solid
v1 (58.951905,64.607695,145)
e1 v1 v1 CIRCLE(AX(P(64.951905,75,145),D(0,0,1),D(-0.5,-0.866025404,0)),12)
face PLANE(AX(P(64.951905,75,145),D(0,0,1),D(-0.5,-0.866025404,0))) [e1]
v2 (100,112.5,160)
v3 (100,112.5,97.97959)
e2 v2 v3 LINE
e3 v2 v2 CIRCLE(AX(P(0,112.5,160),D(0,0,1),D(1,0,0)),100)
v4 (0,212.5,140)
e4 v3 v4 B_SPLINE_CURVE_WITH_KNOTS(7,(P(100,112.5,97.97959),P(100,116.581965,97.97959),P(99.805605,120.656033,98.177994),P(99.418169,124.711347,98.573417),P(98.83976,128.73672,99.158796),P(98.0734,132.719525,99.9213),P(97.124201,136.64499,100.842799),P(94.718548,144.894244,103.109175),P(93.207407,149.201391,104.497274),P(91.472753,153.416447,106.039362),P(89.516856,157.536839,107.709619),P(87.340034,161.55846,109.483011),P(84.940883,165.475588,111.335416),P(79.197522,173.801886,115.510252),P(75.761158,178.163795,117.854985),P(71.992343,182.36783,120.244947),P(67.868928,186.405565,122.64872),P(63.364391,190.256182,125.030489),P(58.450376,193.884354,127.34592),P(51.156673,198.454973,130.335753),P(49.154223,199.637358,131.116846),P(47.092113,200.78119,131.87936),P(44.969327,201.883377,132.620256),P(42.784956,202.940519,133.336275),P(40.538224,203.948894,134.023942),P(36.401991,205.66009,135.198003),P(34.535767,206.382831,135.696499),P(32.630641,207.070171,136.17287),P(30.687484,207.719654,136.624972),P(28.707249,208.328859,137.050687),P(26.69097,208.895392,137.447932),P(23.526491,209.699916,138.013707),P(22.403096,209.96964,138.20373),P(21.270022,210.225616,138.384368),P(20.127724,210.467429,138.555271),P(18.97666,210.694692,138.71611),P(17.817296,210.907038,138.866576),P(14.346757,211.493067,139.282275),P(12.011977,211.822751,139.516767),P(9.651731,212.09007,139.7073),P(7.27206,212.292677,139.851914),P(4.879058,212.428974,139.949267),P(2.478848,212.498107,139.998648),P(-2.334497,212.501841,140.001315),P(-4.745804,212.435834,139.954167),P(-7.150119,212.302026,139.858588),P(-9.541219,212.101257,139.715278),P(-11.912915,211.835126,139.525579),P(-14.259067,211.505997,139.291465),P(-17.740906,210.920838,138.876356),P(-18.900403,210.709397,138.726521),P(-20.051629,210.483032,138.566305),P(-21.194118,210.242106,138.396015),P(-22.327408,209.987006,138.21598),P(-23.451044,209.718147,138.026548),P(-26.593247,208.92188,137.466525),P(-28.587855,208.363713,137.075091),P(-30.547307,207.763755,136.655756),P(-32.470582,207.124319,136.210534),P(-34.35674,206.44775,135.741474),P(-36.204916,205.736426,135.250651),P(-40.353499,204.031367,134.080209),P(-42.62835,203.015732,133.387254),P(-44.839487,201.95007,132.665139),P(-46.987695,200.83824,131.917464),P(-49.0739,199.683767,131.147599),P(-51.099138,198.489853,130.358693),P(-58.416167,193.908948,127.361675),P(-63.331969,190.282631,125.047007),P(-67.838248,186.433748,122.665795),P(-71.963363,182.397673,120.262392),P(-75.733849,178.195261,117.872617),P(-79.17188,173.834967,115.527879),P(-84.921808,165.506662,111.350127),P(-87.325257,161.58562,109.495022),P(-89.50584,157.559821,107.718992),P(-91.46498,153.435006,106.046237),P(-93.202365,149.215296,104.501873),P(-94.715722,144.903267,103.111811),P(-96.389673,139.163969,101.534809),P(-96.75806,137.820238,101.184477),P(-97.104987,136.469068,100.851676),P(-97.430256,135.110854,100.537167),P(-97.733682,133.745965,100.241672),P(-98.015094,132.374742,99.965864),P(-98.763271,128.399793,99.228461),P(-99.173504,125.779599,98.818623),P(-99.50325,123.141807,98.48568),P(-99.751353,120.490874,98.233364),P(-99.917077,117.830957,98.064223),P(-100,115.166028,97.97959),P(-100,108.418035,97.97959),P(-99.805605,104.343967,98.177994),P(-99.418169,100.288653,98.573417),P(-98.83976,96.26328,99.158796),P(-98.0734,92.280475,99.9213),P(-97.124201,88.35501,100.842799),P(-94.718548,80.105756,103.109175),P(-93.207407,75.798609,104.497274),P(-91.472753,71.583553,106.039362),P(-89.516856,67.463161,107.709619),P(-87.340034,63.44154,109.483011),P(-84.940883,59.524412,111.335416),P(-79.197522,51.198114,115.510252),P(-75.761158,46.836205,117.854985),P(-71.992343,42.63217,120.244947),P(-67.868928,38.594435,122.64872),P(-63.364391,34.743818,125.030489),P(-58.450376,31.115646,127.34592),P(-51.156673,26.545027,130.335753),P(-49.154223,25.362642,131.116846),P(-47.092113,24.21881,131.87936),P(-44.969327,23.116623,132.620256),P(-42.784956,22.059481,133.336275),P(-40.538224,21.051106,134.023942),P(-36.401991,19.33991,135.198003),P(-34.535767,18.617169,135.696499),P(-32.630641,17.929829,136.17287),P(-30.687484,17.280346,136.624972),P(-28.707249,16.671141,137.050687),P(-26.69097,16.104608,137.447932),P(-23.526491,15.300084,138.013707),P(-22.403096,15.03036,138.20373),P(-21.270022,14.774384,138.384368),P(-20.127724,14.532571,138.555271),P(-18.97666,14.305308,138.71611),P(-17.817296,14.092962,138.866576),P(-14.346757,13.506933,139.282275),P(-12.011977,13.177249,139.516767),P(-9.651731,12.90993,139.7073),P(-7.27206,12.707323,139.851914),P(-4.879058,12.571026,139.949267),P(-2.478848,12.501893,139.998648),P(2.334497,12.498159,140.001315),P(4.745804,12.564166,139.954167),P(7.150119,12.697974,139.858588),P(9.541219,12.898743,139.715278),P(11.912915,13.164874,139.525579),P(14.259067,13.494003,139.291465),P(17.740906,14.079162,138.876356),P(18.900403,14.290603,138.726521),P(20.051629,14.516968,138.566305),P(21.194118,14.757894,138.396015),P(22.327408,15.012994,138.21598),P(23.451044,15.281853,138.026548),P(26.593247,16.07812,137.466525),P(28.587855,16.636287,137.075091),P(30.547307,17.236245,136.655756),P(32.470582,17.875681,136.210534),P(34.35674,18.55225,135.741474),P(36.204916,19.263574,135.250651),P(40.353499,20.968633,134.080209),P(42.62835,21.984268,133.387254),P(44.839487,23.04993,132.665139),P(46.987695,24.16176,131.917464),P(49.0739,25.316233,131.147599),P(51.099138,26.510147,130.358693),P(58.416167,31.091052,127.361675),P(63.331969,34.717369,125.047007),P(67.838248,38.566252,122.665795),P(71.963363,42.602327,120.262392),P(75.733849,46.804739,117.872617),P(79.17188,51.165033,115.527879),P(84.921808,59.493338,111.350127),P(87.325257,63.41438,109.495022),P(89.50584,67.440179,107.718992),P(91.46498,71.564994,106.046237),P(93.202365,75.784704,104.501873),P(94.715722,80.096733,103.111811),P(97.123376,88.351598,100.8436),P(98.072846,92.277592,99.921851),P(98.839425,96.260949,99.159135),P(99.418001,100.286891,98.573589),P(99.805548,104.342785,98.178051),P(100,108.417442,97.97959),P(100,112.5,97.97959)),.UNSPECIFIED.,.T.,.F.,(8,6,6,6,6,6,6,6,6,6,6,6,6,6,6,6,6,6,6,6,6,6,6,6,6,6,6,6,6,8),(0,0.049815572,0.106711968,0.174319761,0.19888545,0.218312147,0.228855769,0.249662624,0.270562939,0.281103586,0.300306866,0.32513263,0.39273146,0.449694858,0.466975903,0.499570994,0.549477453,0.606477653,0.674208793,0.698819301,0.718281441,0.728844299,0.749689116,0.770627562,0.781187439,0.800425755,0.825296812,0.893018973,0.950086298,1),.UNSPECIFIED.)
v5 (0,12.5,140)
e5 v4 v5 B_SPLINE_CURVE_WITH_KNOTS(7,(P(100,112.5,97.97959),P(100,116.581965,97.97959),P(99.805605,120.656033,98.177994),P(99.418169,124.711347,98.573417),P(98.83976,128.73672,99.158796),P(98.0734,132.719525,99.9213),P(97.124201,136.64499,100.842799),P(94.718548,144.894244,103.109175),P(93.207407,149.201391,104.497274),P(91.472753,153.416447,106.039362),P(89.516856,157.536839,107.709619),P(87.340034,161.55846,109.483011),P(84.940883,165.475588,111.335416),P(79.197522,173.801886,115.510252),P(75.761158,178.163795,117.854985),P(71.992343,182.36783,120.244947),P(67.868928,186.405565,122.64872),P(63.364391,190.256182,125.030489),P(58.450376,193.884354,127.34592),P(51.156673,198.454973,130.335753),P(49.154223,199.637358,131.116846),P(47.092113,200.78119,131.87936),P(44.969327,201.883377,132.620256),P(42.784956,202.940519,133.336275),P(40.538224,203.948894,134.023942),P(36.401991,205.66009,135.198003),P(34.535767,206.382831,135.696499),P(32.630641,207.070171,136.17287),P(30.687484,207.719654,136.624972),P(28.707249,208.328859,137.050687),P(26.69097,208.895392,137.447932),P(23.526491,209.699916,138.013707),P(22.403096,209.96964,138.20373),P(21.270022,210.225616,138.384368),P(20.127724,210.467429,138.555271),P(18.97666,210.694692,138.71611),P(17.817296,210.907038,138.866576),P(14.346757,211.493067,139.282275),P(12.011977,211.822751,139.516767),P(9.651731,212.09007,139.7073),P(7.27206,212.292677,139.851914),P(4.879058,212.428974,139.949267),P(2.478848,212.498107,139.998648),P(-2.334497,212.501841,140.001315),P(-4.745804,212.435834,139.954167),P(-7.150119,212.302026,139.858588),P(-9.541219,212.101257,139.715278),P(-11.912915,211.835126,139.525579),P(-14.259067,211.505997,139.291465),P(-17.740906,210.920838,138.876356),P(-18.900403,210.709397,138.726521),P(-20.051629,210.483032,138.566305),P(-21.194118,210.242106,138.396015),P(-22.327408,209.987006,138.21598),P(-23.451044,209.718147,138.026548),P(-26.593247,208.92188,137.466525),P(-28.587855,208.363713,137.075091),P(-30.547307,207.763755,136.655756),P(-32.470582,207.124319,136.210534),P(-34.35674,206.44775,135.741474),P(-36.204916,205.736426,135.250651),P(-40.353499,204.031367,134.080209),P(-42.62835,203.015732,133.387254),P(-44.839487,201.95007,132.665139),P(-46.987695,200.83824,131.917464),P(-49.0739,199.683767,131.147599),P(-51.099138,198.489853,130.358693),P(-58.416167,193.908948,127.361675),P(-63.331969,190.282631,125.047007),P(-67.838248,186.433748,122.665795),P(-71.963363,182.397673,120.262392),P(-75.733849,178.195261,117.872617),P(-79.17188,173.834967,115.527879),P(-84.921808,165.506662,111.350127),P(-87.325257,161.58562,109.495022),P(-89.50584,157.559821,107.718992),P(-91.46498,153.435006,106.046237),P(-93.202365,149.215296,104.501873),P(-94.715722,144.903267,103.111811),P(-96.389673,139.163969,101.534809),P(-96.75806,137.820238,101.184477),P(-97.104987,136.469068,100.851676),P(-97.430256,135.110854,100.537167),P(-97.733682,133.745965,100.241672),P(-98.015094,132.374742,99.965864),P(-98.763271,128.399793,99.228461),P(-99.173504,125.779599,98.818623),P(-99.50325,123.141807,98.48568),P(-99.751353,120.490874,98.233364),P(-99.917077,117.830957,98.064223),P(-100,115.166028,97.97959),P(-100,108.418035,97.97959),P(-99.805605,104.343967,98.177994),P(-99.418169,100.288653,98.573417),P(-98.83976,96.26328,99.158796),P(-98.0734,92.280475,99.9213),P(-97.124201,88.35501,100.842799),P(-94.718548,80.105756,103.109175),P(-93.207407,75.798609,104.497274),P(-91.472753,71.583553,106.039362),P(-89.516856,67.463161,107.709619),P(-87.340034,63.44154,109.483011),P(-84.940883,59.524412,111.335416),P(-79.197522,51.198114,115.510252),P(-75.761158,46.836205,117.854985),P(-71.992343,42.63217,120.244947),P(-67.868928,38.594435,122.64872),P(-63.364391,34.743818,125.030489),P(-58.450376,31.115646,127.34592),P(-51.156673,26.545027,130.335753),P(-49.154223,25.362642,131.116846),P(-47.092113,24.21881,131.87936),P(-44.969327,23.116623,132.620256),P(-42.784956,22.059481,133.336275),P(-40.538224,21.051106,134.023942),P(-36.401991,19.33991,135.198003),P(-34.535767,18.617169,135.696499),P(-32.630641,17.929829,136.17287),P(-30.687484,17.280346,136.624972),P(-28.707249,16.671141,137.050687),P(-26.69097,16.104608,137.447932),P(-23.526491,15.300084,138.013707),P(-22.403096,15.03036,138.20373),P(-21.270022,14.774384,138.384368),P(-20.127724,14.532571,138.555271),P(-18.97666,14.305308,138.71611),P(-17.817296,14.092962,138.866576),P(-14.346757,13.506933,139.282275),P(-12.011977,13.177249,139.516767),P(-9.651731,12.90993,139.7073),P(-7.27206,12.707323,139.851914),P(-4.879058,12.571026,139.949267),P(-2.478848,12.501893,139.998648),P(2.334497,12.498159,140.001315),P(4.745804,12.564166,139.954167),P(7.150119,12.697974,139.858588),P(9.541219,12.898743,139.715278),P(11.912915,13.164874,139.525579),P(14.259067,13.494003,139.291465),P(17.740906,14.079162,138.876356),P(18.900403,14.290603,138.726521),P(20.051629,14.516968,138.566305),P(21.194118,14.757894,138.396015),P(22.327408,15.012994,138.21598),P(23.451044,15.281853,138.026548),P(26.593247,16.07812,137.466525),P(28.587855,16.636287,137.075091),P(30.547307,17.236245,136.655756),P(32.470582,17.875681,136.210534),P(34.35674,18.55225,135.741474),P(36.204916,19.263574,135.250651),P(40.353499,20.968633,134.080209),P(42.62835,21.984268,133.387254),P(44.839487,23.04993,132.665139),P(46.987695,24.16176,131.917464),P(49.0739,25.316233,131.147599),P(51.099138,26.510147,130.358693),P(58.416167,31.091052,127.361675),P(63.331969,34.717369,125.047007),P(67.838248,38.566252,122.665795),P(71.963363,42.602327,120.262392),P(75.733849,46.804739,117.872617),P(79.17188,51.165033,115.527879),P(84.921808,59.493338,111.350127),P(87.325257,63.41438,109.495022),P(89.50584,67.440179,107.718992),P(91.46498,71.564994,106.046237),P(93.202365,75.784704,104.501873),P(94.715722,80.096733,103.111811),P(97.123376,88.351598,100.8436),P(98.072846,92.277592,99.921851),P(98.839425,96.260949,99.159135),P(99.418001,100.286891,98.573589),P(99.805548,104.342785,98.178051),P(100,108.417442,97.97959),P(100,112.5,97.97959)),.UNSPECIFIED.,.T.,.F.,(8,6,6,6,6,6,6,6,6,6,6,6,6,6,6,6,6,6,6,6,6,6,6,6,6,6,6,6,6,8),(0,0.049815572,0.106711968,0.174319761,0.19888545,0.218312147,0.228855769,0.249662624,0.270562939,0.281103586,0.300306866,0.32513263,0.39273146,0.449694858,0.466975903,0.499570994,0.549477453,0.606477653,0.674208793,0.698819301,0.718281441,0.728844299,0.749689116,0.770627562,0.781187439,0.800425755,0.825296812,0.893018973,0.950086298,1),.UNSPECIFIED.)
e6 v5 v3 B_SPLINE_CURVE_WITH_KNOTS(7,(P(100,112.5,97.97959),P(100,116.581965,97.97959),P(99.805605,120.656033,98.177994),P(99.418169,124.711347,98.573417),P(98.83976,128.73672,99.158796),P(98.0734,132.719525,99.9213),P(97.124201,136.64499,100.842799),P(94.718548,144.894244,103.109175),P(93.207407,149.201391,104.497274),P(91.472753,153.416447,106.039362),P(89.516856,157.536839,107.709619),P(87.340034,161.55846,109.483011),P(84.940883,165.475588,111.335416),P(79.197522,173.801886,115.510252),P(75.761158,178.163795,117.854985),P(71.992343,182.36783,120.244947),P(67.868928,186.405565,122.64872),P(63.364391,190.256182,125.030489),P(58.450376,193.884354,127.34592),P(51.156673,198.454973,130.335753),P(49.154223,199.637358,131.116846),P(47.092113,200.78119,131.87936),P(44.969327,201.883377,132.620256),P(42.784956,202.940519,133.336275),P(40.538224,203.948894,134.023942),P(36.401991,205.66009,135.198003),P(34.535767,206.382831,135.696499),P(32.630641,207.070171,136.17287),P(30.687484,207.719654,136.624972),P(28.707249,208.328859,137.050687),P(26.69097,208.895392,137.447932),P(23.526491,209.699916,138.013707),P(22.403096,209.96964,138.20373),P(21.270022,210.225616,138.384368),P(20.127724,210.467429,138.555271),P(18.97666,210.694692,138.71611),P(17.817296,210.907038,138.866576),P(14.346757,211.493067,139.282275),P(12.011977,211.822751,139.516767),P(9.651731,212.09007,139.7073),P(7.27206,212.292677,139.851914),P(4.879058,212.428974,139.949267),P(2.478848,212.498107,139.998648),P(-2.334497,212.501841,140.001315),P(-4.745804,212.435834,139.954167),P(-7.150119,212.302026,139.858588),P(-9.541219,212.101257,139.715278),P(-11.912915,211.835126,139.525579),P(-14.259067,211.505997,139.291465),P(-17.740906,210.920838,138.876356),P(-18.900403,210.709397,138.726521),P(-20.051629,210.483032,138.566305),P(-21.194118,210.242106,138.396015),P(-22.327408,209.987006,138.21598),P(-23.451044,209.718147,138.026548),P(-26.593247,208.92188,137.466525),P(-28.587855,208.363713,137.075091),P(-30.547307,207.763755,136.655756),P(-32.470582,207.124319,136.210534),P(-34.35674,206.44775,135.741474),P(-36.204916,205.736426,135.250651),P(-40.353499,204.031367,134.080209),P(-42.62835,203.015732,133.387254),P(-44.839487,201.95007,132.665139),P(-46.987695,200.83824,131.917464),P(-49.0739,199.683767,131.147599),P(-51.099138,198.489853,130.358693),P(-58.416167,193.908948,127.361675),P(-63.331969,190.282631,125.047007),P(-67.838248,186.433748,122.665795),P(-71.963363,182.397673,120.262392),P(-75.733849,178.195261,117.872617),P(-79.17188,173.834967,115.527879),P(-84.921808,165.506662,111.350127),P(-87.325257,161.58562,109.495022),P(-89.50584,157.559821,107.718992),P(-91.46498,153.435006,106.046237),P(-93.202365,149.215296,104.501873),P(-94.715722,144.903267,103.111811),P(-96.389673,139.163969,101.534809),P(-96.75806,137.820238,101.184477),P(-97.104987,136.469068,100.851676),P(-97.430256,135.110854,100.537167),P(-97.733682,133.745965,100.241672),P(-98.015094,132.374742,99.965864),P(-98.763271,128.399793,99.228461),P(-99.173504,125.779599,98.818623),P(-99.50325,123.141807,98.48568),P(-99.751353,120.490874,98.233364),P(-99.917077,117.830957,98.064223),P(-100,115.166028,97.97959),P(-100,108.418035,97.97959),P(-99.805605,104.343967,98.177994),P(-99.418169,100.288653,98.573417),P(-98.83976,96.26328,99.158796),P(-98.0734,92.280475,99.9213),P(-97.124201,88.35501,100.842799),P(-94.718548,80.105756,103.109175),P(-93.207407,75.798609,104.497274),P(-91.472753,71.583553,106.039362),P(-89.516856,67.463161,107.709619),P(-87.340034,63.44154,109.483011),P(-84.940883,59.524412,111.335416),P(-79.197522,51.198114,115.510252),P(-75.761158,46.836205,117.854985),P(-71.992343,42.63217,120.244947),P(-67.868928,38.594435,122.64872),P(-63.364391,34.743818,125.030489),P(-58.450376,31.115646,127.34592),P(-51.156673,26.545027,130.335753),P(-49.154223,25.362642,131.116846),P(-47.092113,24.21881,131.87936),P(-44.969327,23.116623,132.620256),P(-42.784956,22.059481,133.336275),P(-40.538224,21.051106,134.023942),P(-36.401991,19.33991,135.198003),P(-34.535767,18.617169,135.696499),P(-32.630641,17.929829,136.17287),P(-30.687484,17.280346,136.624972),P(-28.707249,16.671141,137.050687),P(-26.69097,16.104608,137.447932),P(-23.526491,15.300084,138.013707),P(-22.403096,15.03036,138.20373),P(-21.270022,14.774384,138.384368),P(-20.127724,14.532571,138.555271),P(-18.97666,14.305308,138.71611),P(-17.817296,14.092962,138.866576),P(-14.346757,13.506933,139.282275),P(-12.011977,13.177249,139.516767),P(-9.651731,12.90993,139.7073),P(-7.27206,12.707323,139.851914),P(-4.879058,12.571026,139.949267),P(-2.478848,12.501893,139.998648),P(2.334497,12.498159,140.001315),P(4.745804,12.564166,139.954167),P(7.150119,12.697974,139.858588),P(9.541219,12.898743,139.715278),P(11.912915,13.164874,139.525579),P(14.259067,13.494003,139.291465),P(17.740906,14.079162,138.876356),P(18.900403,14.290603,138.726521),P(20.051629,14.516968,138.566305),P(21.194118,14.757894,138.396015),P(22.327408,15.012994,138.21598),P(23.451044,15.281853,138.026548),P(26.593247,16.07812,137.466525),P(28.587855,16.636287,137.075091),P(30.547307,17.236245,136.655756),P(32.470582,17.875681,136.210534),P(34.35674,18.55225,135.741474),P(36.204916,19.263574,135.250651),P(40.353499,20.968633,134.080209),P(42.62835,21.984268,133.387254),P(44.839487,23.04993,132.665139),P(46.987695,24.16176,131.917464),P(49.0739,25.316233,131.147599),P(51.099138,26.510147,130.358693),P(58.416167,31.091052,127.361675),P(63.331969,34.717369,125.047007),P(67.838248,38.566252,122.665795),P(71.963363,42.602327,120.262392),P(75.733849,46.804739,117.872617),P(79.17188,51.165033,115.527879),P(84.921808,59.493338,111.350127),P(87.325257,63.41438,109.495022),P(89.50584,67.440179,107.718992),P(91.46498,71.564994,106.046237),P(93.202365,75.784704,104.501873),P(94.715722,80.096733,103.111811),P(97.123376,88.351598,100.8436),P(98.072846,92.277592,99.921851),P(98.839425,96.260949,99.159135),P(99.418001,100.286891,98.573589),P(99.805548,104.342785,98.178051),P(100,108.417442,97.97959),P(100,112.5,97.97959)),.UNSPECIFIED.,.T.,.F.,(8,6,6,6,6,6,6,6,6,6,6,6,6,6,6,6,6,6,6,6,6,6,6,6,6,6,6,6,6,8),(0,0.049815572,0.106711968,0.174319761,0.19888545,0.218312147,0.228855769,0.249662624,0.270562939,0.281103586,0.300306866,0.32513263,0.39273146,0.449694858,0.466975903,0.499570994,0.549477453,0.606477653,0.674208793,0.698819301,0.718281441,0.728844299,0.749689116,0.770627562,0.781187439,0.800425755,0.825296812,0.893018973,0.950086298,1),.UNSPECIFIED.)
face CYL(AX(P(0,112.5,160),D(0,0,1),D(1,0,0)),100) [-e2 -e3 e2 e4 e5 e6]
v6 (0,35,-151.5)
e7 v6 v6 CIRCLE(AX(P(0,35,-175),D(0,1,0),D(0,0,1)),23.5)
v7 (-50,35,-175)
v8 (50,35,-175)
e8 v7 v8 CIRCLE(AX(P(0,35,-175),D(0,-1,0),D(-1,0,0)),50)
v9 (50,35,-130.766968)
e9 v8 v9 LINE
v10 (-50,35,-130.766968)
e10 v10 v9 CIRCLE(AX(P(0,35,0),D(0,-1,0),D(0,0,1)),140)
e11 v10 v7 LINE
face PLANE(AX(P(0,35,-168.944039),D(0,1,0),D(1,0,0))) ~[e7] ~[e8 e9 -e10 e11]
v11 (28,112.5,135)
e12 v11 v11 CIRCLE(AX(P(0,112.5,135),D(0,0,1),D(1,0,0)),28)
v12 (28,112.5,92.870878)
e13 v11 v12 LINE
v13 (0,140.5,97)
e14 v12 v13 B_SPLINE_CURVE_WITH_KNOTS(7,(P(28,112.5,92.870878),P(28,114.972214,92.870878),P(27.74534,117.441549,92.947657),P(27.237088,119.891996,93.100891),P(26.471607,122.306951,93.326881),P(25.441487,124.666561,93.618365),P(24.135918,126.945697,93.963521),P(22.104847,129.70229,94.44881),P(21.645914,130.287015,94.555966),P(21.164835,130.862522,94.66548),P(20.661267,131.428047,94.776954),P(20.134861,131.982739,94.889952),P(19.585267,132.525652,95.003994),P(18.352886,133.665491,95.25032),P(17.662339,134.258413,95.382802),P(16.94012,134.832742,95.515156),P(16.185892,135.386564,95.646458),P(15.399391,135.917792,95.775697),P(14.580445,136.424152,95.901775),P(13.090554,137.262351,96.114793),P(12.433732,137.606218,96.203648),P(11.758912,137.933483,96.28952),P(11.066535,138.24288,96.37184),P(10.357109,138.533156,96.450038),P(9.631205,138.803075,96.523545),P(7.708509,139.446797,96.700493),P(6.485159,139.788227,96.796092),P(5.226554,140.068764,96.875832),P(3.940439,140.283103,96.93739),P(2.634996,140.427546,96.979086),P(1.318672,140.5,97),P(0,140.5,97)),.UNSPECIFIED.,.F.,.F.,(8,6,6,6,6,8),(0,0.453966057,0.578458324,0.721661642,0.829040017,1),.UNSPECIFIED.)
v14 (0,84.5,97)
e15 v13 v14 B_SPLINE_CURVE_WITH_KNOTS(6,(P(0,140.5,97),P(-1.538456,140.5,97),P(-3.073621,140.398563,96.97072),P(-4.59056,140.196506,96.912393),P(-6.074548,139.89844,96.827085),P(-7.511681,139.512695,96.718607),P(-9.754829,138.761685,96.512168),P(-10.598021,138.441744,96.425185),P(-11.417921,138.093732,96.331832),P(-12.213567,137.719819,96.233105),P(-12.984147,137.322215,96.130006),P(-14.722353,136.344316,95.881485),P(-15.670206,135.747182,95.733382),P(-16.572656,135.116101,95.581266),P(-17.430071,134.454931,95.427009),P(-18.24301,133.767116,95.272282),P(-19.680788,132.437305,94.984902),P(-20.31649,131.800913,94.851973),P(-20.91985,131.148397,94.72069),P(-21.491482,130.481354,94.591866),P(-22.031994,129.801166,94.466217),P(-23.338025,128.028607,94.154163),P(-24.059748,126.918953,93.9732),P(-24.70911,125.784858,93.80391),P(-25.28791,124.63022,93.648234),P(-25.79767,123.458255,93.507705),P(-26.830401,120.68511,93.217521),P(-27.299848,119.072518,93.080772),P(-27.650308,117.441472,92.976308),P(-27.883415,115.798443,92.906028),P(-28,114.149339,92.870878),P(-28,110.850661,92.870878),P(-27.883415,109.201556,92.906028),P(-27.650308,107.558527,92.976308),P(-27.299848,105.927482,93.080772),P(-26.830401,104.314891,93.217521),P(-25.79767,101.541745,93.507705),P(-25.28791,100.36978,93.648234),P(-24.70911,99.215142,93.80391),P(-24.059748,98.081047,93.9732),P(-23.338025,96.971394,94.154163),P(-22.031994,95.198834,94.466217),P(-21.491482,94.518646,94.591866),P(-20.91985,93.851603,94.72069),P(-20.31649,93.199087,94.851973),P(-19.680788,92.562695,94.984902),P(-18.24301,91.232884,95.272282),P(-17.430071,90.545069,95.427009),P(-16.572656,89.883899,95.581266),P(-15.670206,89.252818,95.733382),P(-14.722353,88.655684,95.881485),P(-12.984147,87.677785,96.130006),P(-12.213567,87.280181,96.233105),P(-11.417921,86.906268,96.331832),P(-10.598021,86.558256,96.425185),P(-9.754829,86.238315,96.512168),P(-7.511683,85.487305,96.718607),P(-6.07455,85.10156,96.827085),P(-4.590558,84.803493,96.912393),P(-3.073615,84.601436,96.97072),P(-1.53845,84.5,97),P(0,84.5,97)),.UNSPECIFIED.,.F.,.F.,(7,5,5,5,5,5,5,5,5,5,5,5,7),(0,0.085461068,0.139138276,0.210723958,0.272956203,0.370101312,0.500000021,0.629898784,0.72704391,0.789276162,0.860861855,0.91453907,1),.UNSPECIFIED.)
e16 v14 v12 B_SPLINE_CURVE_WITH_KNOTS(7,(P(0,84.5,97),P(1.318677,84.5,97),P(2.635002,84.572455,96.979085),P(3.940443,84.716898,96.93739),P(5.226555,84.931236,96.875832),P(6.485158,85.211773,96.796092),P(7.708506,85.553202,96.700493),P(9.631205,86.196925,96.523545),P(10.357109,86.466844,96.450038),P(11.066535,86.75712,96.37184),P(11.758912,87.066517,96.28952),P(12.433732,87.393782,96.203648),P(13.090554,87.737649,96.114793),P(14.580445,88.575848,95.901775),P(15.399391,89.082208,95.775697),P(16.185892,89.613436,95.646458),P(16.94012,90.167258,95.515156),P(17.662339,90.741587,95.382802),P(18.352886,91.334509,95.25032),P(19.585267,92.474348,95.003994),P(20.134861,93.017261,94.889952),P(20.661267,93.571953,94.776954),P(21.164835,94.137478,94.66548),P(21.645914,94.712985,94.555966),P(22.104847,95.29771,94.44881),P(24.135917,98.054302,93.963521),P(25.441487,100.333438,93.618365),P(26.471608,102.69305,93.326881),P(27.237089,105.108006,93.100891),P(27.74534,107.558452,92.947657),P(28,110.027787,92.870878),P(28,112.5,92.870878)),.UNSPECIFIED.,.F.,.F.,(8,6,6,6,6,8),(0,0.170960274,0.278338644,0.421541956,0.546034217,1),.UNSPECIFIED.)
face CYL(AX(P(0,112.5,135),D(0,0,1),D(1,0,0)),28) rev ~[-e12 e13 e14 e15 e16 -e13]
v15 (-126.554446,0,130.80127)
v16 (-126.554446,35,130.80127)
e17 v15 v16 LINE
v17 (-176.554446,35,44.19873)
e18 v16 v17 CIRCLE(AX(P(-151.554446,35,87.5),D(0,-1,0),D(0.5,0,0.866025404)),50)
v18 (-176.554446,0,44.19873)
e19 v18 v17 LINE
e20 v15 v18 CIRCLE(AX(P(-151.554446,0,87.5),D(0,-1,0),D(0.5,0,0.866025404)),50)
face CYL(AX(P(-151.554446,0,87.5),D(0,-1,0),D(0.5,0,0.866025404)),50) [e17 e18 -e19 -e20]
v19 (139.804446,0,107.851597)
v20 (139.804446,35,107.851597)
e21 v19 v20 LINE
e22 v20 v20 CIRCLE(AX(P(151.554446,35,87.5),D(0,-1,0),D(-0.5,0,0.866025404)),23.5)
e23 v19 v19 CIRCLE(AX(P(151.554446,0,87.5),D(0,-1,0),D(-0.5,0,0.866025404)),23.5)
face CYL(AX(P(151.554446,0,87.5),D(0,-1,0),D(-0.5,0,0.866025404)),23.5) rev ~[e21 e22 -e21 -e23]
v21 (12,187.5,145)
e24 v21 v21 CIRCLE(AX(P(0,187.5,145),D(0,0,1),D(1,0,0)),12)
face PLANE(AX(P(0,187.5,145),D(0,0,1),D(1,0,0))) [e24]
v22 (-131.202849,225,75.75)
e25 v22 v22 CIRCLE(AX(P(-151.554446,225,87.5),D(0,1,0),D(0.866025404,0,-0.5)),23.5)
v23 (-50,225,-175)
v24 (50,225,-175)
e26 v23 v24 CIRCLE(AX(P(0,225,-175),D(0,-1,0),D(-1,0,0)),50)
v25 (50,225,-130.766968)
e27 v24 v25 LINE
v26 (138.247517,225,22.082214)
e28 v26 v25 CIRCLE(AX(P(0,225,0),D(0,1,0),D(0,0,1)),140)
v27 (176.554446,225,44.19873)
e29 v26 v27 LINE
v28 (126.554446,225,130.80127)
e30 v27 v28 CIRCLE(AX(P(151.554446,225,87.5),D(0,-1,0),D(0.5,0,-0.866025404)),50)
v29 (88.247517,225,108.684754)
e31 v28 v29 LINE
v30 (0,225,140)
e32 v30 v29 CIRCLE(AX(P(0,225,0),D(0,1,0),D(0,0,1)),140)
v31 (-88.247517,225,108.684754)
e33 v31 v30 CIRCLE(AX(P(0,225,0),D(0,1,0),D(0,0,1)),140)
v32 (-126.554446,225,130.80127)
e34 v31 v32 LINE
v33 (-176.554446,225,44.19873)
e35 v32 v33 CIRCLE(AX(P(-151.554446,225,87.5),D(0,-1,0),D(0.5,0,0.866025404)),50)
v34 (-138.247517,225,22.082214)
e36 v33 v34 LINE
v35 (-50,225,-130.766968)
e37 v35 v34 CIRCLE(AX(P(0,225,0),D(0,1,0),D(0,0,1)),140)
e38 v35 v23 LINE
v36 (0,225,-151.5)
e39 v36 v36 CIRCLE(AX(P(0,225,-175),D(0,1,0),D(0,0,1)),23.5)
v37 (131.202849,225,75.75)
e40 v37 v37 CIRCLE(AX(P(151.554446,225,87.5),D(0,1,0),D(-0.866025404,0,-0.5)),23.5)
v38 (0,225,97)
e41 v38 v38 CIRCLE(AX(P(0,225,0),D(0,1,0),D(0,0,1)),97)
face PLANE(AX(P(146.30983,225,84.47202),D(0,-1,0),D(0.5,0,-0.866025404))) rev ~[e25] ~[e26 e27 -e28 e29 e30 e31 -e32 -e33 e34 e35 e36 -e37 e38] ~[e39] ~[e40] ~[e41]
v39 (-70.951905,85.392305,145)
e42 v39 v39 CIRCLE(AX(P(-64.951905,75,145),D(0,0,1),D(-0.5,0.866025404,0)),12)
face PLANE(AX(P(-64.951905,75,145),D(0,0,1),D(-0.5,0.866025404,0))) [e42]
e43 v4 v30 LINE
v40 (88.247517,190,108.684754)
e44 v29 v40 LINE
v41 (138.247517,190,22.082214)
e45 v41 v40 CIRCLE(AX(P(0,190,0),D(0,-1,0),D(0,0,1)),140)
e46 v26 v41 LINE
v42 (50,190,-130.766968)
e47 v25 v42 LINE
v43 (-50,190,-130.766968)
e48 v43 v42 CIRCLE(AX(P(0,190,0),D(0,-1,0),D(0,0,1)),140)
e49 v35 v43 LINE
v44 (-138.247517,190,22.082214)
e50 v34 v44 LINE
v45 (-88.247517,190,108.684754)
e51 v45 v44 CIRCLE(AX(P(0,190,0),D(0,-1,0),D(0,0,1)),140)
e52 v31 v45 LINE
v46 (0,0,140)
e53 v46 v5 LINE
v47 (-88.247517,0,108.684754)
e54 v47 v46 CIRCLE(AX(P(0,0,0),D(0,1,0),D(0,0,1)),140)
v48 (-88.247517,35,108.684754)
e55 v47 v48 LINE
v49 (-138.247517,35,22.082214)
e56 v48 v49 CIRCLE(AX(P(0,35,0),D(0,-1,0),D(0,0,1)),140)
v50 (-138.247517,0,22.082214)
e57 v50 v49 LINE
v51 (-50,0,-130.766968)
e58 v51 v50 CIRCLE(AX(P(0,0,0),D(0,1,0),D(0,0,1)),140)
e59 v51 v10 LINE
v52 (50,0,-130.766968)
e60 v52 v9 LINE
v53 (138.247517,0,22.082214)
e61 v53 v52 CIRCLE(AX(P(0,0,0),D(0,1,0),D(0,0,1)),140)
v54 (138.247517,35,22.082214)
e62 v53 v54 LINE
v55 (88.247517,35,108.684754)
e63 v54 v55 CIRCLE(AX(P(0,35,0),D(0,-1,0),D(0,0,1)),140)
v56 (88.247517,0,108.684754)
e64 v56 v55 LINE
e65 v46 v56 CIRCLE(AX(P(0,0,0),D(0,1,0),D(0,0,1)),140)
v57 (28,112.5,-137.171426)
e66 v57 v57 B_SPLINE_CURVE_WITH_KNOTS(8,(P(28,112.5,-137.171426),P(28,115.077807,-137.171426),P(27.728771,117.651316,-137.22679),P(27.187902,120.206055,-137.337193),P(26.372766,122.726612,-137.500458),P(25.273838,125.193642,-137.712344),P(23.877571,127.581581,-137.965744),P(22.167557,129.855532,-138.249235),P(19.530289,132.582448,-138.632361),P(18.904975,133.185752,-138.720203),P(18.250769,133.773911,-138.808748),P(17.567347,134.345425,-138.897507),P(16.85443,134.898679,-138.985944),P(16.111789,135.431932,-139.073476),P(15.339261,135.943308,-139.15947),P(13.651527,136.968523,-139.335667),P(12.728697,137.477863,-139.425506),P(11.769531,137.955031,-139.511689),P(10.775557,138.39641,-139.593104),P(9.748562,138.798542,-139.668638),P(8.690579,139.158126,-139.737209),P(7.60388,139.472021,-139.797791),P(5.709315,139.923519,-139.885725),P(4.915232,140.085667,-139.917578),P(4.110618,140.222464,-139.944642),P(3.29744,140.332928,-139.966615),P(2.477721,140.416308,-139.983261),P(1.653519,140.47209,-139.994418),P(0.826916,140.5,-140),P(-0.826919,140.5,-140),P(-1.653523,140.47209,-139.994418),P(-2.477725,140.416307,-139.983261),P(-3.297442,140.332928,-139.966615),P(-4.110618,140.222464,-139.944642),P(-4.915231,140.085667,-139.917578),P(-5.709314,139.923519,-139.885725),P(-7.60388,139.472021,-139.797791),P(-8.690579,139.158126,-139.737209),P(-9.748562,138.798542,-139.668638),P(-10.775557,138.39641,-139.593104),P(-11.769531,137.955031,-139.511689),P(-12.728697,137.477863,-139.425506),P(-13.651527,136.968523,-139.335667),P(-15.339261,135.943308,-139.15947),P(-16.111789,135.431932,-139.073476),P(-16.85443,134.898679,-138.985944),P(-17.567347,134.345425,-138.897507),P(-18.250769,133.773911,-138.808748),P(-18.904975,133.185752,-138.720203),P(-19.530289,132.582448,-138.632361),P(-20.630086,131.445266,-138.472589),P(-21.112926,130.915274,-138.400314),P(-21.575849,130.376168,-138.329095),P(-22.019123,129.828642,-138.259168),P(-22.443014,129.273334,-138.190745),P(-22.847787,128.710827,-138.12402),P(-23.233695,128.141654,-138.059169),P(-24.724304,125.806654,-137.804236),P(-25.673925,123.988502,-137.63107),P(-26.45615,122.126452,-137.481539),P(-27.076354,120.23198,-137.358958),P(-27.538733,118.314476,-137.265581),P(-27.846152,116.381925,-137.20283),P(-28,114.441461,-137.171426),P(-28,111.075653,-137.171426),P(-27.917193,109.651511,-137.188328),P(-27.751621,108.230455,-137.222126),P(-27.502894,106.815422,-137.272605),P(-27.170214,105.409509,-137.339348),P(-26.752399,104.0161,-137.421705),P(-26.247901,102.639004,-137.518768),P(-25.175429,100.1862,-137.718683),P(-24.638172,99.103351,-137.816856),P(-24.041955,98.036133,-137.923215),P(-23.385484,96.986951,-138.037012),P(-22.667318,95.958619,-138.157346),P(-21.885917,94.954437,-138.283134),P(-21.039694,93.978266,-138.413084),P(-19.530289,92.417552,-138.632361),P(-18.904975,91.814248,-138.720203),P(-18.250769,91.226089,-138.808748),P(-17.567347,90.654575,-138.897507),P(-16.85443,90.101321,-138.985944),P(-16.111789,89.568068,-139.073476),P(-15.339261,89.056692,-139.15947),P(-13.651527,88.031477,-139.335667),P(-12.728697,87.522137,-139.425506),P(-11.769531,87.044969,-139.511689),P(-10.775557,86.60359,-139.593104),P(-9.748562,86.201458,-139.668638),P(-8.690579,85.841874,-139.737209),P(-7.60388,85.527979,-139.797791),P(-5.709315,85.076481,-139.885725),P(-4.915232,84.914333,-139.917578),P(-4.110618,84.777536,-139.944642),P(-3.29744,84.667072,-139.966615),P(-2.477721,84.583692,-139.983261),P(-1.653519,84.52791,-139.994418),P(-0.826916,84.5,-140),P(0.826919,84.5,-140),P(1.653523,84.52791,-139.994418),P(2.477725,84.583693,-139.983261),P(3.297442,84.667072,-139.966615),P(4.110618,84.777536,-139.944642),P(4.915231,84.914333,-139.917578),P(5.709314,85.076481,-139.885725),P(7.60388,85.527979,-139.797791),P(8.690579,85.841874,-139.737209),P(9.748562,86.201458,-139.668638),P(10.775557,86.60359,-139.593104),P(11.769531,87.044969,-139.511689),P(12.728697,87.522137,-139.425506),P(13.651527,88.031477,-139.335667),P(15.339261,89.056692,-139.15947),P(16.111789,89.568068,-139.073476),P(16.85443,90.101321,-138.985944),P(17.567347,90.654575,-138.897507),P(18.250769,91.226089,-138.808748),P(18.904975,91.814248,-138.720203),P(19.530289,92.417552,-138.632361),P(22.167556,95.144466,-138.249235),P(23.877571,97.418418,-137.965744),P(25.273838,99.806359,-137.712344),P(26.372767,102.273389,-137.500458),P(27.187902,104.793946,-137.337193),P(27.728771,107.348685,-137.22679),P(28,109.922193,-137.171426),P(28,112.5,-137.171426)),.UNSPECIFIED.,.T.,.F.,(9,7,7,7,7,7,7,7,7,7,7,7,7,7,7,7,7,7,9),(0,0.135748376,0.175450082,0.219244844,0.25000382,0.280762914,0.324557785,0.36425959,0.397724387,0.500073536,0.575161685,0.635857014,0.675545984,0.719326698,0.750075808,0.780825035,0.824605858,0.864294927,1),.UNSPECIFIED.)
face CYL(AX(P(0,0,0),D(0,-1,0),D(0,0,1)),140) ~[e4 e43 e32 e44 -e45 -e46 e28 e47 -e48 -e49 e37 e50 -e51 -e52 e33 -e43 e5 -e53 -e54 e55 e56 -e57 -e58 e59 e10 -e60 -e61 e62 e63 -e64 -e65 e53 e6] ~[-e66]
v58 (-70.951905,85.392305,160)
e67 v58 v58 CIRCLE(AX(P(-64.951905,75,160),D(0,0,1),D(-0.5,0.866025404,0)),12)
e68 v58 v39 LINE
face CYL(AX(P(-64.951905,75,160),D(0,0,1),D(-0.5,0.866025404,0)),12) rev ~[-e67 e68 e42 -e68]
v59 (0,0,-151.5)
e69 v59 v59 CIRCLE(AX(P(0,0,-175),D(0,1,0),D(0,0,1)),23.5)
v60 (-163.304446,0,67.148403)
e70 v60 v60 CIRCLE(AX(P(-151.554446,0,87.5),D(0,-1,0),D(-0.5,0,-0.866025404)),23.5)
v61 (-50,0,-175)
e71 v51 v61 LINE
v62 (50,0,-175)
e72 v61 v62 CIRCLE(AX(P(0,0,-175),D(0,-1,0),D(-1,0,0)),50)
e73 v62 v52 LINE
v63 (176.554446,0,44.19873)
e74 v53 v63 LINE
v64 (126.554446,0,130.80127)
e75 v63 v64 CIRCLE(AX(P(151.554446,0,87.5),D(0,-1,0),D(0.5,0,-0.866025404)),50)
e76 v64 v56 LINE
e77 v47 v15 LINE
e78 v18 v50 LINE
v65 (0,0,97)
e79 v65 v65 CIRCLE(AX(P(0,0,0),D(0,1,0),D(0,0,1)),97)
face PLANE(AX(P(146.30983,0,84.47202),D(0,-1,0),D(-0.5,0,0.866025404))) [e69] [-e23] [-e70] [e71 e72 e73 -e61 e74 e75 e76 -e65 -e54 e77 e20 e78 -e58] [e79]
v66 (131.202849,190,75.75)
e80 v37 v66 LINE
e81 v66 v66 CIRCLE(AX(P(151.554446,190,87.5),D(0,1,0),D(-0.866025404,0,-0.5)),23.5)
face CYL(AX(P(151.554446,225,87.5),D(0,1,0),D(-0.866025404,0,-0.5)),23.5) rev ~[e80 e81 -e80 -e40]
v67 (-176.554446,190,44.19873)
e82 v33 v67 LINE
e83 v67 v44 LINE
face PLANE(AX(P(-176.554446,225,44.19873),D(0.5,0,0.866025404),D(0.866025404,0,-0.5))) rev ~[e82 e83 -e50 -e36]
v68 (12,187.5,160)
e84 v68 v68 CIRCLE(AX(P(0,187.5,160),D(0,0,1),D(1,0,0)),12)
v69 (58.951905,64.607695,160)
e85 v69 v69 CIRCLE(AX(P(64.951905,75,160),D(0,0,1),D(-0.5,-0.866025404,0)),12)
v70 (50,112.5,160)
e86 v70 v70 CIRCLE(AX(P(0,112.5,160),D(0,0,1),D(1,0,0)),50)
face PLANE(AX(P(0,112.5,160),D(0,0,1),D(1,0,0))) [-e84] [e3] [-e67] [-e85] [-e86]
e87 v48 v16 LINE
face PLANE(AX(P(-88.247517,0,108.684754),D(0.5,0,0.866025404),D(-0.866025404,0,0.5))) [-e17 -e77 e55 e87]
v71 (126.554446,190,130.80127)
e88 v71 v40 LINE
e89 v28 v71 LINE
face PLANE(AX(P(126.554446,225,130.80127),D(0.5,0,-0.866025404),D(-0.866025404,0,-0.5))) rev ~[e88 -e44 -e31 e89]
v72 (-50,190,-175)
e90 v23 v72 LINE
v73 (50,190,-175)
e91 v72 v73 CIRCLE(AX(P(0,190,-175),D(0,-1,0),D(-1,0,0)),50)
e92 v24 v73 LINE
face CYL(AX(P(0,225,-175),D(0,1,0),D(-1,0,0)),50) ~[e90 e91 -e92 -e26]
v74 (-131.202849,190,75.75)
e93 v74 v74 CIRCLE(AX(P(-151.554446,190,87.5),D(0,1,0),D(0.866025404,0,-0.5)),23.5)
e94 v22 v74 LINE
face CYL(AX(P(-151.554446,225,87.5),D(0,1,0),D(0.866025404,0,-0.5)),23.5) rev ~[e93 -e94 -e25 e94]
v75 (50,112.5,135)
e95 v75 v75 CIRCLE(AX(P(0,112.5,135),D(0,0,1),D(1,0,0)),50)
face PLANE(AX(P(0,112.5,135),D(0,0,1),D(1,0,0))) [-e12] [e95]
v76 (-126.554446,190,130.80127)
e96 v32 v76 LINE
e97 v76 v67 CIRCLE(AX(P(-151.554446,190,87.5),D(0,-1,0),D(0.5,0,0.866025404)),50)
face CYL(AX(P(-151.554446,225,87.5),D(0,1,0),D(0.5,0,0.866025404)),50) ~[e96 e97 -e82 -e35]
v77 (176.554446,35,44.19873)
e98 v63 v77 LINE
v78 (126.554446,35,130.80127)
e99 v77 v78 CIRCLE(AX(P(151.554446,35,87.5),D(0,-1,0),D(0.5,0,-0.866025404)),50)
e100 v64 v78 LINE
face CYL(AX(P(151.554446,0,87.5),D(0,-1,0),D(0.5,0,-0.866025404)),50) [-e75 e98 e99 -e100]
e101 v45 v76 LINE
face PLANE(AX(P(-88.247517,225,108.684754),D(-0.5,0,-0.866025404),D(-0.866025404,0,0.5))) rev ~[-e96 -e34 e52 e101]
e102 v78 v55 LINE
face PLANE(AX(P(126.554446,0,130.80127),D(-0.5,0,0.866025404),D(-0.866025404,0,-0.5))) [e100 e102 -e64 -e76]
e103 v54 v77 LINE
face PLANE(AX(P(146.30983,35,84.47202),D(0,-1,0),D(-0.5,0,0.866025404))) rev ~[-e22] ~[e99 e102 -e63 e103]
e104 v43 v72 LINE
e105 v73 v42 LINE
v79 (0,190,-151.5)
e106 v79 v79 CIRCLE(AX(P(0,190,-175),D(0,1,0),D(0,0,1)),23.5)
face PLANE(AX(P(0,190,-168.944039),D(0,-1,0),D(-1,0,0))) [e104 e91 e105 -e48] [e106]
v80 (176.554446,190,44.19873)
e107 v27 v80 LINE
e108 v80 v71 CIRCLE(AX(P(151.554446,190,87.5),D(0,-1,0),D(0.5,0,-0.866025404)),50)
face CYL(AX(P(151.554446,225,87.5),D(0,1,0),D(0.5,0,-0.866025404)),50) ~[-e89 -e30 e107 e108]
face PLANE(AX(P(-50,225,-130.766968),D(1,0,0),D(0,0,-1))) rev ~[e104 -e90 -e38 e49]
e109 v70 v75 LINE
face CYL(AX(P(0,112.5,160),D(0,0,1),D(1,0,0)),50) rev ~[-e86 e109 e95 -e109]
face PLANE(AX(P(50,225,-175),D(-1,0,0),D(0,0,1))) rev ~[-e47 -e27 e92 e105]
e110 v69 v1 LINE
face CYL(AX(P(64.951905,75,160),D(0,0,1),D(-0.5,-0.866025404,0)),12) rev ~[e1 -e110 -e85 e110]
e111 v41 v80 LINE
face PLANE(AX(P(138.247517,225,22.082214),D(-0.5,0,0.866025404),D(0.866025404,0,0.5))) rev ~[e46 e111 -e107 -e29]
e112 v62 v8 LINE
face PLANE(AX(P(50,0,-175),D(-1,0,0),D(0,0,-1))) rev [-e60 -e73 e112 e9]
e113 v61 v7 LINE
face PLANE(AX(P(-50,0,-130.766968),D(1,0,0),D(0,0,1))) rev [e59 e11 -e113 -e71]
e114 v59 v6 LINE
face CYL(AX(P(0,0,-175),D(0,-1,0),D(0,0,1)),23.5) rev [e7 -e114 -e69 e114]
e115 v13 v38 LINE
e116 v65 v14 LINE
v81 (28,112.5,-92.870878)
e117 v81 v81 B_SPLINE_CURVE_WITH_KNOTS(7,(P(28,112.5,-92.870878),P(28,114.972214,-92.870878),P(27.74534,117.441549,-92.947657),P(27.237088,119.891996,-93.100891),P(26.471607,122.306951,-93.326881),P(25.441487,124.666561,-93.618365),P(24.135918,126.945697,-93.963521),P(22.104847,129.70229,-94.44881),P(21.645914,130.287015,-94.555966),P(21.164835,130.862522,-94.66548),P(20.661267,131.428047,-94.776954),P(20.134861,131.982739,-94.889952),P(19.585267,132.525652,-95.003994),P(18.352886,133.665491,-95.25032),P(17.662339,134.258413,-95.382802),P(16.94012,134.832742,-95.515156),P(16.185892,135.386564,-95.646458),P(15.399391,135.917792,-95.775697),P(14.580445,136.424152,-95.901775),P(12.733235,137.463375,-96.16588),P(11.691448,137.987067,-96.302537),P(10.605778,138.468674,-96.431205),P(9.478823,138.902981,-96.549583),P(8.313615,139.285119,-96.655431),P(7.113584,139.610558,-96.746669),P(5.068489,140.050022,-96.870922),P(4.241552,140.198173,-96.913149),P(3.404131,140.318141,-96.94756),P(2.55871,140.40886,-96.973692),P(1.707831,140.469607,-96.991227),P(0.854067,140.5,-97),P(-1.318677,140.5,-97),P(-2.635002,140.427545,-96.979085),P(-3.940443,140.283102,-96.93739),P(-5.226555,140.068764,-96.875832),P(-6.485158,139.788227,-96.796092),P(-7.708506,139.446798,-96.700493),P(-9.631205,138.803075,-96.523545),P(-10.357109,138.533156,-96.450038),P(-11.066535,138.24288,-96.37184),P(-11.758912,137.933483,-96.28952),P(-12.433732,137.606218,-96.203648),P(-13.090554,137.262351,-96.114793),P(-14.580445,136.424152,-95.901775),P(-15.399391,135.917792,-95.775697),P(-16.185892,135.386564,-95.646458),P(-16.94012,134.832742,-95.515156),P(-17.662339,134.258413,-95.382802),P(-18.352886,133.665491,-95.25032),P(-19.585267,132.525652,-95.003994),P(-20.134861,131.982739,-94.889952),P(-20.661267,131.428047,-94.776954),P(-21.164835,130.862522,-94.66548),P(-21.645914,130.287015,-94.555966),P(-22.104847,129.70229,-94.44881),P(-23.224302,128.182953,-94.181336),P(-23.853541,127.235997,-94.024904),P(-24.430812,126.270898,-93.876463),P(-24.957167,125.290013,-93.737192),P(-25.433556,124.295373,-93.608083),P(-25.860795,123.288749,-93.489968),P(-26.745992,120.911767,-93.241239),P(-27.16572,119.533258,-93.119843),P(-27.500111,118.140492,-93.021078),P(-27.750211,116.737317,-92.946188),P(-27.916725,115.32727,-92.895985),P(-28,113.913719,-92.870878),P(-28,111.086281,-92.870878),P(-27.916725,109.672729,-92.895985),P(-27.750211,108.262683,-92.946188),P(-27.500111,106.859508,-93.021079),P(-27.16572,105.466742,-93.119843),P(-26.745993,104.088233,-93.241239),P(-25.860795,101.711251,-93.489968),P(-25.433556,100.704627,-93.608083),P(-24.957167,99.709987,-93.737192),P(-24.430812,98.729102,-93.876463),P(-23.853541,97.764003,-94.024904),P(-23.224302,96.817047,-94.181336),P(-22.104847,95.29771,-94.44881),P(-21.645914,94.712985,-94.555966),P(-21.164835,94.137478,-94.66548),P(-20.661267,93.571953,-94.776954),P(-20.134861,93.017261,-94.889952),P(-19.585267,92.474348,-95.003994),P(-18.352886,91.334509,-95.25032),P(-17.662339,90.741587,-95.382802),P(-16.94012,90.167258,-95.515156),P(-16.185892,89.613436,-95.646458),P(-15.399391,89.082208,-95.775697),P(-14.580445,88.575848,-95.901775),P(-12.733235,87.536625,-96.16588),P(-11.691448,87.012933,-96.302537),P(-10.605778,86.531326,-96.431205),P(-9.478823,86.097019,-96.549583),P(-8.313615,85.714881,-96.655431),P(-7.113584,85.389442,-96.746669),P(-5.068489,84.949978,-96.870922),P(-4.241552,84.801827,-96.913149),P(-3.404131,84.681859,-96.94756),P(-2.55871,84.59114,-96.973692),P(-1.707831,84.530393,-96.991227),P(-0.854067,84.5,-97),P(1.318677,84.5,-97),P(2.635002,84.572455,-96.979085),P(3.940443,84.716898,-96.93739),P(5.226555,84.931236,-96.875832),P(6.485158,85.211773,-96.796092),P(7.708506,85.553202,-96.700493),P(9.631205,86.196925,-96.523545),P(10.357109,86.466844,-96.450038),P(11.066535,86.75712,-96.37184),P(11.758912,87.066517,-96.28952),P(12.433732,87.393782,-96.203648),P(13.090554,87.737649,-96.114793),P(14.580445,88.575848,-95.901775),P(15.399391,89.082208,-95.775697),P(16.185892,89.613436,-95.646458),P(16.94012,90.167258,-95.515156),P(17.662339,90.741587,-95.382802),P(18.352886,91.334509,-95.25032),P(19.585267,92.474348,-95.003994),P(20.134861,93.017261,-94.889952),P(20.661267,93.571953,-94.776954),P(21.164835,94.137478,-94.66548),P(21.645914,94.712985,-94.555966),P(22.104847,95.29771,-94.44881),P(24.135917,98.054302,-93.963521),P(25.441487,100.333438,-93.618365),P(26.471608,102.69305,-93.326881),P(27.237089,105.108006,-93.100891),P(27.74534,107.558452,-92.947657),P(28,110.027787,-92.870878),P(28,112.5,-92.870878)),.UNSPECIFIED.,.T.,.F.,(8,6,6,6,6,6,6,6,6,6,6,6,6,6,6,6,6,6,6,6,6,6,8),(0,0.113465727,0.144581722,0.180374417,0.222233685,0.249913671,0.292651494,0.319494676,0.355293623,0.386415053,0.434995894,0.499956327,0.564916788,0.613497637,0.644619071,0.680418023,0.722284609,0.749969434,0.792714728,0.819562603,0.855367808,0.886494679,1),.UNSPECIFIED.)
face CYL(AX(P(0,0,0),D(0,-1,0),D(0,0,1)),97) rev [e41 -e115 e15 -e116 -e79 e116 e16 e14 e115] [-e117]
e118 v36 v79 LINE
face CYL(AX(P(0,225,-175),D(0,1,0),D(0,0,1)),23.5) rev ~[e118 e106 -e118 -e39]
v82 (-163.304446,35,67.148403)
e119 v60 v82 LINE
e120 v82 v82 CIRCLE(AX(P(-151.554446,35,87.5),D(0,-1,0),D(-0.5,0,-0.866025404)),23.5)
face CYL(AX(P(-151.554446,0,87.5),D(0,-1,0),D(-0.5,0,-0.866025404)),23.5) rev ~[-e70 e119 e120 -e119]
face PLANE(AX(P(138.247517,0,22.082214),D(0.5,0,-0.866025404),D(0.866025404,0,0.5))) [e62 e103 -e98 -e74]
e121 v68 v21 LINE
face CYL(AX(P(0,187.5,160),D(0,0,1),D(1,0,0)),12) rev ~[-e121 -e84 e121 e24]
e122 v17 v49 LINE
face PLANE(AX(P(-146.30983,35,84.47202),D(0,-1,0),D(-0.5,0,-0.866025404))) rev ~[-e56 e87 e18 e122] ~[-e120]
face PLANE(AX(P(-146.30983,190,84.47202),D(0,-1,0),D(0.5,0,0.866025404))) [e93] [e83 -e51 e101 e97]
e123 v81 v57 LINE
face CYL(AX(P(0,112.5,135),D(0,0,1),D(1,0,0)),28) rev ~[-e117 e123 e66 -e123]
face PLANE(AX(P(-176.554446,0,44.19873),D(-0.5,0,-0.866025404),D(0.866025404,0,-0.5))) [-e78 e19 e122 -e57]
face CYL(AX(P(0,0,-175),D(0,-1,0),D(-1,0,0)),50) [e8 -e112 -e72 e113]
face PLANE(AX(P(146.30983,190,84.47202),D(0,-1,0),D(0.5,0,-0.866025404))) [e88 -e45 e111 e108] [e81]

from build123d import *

# Parameters (mm, degrees)
SKETCH1_R                = 140
SKETCH1_R_2              = 97
BOSS_EXTRUDE7_DEPTH      = 225
SKETCH4_R                = 23.5
BOSS_EXTRUDE8_DEPTH      = 35
CIRPATTERN1_COUNT        = 3
MIRROR2_COPY_1_SKETCH_R  = 23.5
MIRROR2_COPY_1_DEPTH     = 35
MIRROR2_COPY_2_SKETCH_R  = 23.5
MIRROR2_COPY_2_DEPTH     = 35
BOSS_EXTRUDE9_REACH      = 491.361
BOSS_EXTRUDE9_END_RADIUS = 140
SKETCH6_R                = 100
SKETCH7_R                = 50
CUT_EXTRUDE1_DEPTH       = 25
SKETCH8_R                = 28
CUT_EXTRUDE2_DEPTH       = 470.945948606
SKETCH9_R                = 12
CUT_EXTRUDE3_DEPTH       = 15
CIRPATTERN4_COUNT        = 3


with BuildPart() as part:
    # Sketch1 → Boss-Extrude7 (new body)
    with BuildSketch(Plane(origin=(0, 0, 0), x_dir=(1, 0, 0), z_dir=(0, 1, 0))):
        with Locations(Location((0, 0, 0), (0, 0, 270))):
            Circle(SKETCH1_R)
        with Locations(Location((0, 0, 0), (0, 0, 270))):
            Circle(SKETCH1_R_2, mode=Mode.SUBTRACT)
    extrude(amount=BOSS_EXTRUDE7_DEPTH)

    # Sketch4 → Boss-Extrude8 (add)
    with BuildSketch(Plane(origin=(0, 225, 0), x_dir=(1, 0, 0), z_dir=(0, 1, 0))):
        with BuildLine():
            Line((50, 175), (50, 130.766968306))
            Line((50, 130.766968306), (-50, 130.766968306))
            Line((-50, 130.766968306), (-50, 175))
            ThreePointArc((-50, 175), (0, 225), (50, 175))
        make_face()
        with Locations(Location((0, 175, 0), (0, 0, 270))):
            Circle(SKETCH4_R, mode=Mode.SUBTRACT)
    boss_extrude8 = extrude(amount=-BOSS_EXTRUDE8_DEPTH)

    # CirPattern1: Boss-Extrude8 ×3 about axis
    cirpattern1_axis = Axis((0, 0, 0), (0, 1, 0))
    for i in range(1, CIRPATTERN1_COUNT):
        add(boss_extrude8.rotate(cirpattern1_axis, i * 360 / CIRPATTERN1_COUNT))

    # Mirror2: Boss-Extrude8 across plane
    add(boss_extrude8.mirror(Plane.ZX.offset(112.5)))

    # Mirror2 copy 1 sketch → Mirror2 copy 1 (add)
    with BuildSketch(Plane(origin=(0, 0, 0), x_dir=(-0.4999999999999998, 0, -0.8660254037844387), z_dir=(0, -1, 0))):
        with BuildLine():
            Line((50, -175), (50, -130.766968306))
            Line((50, -130.766968306), (-50, -130.766968306))
            Line((-50, -130.766968306), (-50, -175))
            ThreePointArc((-50, -175), (0, -225), (50, -175))
        make_face()
        with Locations((0, -175)):
            Circle(MIRROR2_COPY_1_SKETCH_R, mode=Mode.SUBTRACT)
    extrude(amount=-MIRROR2_COPY_1_DEPTH)

    # Mirror2 copy 2 sketch → Mirror2 copy 2 (add)
    with BuildSketch(Plane(origin=(0, 0, 0), x_dir=(-0.5000000000000004, 0, 0.8660254037844384), z_dir=(0, -1, 0))):
        with BuildLine():
            Line((50, -175), (50, -130.766968306))
            Line((50, -130.766968306), (-50, -130.766968306))
            Line((-50, -130.766968306), (-50, -175))
            ThreePointArc((-50, -175), (0, -225), (50, -175))
        make_face()
        with Locations((0, -175)):
            Circle(MIRROR2_COPY_2_SKETCH_R, mode=Mode.SUBTRACT)
    extrude(amount=-MIRROR2_COPY_2_DEPTH)

    # Boss-Extrude9: up to this cylinder (the profile starts outside it)
    boss_extrude9_end = Plane(origin=(0, 112.5, 0), z_dir=(0, -1, 0)) * Cylinder(BOSS_EXTRUDE9_END_RADIUS, 1263.722, mode=Mode.PRIVATE)
    # Sketch6 → Boss-Extrude9 (add, up to the surface)
    with BuildSketch(Plane.XY.offset(160), mode=Mode.PRIVATE) as boss_extrude9_sk1:
        with Locations((0, 112.5)):
            Circle(SKETCH6_R)
    boss_extrude9_tool1 = extrude(boss_extrude9_sk1.sketch, amount=-BOSS_EXTRUDE9_REACH, mode=Mode.PRIVATE) - boss_extrude9_end
    add(boss_extrude9_tool1.solids().sort_by_distance((0, 112.5, 160))[0])

    # Sketch7 → Cut-Extrude1 (cut)
    with BuildSketch(Plane.XY.offset(160)):
        with Locations((0, 112.5)):
            Circle(SKETCH7_R)
    extrude(amount=-CUT_EXTRUDE1_DEPTH, mode=Mode.SUBTRACT)

    # Sketch8 → Cut-Extrude2 (cut, through all)
    with BuildSketch(Plane.XY.offset(135)):
        with Locations((0, 112.5)):
            Circle(SKETCH8_R)
    extrude(amount=-CUT_EXTRUDE2_DEPTH, mode=Mode.SUBTRACT)

    # Sketch9 → Cut-Extrude3 (cut)
    with BuildSketch(Plane.XY.offset(160)):
        with Locations((0, 187.5)):
            Circle(SKETCH9_R)
    cut_extrude3 = extrude(amount=-CUT_EXTRUDE3_DEPTH, mode=Mode.SUBTRACT)

    # CirPattern4: Cut-Extrude3 ×3 about axis
    cirpattern4_axis = Axis((0, 112.5, 0), (0, 0, 1))
    for i in range(1, CIRPATTERN4_COUNT):
        add(cut_extrude3.rotate(cirpattern4_axis, i * 360 / CIRPATTERN4_COUNT), mode=Mode.SUBTRACT)


solid = part.part
